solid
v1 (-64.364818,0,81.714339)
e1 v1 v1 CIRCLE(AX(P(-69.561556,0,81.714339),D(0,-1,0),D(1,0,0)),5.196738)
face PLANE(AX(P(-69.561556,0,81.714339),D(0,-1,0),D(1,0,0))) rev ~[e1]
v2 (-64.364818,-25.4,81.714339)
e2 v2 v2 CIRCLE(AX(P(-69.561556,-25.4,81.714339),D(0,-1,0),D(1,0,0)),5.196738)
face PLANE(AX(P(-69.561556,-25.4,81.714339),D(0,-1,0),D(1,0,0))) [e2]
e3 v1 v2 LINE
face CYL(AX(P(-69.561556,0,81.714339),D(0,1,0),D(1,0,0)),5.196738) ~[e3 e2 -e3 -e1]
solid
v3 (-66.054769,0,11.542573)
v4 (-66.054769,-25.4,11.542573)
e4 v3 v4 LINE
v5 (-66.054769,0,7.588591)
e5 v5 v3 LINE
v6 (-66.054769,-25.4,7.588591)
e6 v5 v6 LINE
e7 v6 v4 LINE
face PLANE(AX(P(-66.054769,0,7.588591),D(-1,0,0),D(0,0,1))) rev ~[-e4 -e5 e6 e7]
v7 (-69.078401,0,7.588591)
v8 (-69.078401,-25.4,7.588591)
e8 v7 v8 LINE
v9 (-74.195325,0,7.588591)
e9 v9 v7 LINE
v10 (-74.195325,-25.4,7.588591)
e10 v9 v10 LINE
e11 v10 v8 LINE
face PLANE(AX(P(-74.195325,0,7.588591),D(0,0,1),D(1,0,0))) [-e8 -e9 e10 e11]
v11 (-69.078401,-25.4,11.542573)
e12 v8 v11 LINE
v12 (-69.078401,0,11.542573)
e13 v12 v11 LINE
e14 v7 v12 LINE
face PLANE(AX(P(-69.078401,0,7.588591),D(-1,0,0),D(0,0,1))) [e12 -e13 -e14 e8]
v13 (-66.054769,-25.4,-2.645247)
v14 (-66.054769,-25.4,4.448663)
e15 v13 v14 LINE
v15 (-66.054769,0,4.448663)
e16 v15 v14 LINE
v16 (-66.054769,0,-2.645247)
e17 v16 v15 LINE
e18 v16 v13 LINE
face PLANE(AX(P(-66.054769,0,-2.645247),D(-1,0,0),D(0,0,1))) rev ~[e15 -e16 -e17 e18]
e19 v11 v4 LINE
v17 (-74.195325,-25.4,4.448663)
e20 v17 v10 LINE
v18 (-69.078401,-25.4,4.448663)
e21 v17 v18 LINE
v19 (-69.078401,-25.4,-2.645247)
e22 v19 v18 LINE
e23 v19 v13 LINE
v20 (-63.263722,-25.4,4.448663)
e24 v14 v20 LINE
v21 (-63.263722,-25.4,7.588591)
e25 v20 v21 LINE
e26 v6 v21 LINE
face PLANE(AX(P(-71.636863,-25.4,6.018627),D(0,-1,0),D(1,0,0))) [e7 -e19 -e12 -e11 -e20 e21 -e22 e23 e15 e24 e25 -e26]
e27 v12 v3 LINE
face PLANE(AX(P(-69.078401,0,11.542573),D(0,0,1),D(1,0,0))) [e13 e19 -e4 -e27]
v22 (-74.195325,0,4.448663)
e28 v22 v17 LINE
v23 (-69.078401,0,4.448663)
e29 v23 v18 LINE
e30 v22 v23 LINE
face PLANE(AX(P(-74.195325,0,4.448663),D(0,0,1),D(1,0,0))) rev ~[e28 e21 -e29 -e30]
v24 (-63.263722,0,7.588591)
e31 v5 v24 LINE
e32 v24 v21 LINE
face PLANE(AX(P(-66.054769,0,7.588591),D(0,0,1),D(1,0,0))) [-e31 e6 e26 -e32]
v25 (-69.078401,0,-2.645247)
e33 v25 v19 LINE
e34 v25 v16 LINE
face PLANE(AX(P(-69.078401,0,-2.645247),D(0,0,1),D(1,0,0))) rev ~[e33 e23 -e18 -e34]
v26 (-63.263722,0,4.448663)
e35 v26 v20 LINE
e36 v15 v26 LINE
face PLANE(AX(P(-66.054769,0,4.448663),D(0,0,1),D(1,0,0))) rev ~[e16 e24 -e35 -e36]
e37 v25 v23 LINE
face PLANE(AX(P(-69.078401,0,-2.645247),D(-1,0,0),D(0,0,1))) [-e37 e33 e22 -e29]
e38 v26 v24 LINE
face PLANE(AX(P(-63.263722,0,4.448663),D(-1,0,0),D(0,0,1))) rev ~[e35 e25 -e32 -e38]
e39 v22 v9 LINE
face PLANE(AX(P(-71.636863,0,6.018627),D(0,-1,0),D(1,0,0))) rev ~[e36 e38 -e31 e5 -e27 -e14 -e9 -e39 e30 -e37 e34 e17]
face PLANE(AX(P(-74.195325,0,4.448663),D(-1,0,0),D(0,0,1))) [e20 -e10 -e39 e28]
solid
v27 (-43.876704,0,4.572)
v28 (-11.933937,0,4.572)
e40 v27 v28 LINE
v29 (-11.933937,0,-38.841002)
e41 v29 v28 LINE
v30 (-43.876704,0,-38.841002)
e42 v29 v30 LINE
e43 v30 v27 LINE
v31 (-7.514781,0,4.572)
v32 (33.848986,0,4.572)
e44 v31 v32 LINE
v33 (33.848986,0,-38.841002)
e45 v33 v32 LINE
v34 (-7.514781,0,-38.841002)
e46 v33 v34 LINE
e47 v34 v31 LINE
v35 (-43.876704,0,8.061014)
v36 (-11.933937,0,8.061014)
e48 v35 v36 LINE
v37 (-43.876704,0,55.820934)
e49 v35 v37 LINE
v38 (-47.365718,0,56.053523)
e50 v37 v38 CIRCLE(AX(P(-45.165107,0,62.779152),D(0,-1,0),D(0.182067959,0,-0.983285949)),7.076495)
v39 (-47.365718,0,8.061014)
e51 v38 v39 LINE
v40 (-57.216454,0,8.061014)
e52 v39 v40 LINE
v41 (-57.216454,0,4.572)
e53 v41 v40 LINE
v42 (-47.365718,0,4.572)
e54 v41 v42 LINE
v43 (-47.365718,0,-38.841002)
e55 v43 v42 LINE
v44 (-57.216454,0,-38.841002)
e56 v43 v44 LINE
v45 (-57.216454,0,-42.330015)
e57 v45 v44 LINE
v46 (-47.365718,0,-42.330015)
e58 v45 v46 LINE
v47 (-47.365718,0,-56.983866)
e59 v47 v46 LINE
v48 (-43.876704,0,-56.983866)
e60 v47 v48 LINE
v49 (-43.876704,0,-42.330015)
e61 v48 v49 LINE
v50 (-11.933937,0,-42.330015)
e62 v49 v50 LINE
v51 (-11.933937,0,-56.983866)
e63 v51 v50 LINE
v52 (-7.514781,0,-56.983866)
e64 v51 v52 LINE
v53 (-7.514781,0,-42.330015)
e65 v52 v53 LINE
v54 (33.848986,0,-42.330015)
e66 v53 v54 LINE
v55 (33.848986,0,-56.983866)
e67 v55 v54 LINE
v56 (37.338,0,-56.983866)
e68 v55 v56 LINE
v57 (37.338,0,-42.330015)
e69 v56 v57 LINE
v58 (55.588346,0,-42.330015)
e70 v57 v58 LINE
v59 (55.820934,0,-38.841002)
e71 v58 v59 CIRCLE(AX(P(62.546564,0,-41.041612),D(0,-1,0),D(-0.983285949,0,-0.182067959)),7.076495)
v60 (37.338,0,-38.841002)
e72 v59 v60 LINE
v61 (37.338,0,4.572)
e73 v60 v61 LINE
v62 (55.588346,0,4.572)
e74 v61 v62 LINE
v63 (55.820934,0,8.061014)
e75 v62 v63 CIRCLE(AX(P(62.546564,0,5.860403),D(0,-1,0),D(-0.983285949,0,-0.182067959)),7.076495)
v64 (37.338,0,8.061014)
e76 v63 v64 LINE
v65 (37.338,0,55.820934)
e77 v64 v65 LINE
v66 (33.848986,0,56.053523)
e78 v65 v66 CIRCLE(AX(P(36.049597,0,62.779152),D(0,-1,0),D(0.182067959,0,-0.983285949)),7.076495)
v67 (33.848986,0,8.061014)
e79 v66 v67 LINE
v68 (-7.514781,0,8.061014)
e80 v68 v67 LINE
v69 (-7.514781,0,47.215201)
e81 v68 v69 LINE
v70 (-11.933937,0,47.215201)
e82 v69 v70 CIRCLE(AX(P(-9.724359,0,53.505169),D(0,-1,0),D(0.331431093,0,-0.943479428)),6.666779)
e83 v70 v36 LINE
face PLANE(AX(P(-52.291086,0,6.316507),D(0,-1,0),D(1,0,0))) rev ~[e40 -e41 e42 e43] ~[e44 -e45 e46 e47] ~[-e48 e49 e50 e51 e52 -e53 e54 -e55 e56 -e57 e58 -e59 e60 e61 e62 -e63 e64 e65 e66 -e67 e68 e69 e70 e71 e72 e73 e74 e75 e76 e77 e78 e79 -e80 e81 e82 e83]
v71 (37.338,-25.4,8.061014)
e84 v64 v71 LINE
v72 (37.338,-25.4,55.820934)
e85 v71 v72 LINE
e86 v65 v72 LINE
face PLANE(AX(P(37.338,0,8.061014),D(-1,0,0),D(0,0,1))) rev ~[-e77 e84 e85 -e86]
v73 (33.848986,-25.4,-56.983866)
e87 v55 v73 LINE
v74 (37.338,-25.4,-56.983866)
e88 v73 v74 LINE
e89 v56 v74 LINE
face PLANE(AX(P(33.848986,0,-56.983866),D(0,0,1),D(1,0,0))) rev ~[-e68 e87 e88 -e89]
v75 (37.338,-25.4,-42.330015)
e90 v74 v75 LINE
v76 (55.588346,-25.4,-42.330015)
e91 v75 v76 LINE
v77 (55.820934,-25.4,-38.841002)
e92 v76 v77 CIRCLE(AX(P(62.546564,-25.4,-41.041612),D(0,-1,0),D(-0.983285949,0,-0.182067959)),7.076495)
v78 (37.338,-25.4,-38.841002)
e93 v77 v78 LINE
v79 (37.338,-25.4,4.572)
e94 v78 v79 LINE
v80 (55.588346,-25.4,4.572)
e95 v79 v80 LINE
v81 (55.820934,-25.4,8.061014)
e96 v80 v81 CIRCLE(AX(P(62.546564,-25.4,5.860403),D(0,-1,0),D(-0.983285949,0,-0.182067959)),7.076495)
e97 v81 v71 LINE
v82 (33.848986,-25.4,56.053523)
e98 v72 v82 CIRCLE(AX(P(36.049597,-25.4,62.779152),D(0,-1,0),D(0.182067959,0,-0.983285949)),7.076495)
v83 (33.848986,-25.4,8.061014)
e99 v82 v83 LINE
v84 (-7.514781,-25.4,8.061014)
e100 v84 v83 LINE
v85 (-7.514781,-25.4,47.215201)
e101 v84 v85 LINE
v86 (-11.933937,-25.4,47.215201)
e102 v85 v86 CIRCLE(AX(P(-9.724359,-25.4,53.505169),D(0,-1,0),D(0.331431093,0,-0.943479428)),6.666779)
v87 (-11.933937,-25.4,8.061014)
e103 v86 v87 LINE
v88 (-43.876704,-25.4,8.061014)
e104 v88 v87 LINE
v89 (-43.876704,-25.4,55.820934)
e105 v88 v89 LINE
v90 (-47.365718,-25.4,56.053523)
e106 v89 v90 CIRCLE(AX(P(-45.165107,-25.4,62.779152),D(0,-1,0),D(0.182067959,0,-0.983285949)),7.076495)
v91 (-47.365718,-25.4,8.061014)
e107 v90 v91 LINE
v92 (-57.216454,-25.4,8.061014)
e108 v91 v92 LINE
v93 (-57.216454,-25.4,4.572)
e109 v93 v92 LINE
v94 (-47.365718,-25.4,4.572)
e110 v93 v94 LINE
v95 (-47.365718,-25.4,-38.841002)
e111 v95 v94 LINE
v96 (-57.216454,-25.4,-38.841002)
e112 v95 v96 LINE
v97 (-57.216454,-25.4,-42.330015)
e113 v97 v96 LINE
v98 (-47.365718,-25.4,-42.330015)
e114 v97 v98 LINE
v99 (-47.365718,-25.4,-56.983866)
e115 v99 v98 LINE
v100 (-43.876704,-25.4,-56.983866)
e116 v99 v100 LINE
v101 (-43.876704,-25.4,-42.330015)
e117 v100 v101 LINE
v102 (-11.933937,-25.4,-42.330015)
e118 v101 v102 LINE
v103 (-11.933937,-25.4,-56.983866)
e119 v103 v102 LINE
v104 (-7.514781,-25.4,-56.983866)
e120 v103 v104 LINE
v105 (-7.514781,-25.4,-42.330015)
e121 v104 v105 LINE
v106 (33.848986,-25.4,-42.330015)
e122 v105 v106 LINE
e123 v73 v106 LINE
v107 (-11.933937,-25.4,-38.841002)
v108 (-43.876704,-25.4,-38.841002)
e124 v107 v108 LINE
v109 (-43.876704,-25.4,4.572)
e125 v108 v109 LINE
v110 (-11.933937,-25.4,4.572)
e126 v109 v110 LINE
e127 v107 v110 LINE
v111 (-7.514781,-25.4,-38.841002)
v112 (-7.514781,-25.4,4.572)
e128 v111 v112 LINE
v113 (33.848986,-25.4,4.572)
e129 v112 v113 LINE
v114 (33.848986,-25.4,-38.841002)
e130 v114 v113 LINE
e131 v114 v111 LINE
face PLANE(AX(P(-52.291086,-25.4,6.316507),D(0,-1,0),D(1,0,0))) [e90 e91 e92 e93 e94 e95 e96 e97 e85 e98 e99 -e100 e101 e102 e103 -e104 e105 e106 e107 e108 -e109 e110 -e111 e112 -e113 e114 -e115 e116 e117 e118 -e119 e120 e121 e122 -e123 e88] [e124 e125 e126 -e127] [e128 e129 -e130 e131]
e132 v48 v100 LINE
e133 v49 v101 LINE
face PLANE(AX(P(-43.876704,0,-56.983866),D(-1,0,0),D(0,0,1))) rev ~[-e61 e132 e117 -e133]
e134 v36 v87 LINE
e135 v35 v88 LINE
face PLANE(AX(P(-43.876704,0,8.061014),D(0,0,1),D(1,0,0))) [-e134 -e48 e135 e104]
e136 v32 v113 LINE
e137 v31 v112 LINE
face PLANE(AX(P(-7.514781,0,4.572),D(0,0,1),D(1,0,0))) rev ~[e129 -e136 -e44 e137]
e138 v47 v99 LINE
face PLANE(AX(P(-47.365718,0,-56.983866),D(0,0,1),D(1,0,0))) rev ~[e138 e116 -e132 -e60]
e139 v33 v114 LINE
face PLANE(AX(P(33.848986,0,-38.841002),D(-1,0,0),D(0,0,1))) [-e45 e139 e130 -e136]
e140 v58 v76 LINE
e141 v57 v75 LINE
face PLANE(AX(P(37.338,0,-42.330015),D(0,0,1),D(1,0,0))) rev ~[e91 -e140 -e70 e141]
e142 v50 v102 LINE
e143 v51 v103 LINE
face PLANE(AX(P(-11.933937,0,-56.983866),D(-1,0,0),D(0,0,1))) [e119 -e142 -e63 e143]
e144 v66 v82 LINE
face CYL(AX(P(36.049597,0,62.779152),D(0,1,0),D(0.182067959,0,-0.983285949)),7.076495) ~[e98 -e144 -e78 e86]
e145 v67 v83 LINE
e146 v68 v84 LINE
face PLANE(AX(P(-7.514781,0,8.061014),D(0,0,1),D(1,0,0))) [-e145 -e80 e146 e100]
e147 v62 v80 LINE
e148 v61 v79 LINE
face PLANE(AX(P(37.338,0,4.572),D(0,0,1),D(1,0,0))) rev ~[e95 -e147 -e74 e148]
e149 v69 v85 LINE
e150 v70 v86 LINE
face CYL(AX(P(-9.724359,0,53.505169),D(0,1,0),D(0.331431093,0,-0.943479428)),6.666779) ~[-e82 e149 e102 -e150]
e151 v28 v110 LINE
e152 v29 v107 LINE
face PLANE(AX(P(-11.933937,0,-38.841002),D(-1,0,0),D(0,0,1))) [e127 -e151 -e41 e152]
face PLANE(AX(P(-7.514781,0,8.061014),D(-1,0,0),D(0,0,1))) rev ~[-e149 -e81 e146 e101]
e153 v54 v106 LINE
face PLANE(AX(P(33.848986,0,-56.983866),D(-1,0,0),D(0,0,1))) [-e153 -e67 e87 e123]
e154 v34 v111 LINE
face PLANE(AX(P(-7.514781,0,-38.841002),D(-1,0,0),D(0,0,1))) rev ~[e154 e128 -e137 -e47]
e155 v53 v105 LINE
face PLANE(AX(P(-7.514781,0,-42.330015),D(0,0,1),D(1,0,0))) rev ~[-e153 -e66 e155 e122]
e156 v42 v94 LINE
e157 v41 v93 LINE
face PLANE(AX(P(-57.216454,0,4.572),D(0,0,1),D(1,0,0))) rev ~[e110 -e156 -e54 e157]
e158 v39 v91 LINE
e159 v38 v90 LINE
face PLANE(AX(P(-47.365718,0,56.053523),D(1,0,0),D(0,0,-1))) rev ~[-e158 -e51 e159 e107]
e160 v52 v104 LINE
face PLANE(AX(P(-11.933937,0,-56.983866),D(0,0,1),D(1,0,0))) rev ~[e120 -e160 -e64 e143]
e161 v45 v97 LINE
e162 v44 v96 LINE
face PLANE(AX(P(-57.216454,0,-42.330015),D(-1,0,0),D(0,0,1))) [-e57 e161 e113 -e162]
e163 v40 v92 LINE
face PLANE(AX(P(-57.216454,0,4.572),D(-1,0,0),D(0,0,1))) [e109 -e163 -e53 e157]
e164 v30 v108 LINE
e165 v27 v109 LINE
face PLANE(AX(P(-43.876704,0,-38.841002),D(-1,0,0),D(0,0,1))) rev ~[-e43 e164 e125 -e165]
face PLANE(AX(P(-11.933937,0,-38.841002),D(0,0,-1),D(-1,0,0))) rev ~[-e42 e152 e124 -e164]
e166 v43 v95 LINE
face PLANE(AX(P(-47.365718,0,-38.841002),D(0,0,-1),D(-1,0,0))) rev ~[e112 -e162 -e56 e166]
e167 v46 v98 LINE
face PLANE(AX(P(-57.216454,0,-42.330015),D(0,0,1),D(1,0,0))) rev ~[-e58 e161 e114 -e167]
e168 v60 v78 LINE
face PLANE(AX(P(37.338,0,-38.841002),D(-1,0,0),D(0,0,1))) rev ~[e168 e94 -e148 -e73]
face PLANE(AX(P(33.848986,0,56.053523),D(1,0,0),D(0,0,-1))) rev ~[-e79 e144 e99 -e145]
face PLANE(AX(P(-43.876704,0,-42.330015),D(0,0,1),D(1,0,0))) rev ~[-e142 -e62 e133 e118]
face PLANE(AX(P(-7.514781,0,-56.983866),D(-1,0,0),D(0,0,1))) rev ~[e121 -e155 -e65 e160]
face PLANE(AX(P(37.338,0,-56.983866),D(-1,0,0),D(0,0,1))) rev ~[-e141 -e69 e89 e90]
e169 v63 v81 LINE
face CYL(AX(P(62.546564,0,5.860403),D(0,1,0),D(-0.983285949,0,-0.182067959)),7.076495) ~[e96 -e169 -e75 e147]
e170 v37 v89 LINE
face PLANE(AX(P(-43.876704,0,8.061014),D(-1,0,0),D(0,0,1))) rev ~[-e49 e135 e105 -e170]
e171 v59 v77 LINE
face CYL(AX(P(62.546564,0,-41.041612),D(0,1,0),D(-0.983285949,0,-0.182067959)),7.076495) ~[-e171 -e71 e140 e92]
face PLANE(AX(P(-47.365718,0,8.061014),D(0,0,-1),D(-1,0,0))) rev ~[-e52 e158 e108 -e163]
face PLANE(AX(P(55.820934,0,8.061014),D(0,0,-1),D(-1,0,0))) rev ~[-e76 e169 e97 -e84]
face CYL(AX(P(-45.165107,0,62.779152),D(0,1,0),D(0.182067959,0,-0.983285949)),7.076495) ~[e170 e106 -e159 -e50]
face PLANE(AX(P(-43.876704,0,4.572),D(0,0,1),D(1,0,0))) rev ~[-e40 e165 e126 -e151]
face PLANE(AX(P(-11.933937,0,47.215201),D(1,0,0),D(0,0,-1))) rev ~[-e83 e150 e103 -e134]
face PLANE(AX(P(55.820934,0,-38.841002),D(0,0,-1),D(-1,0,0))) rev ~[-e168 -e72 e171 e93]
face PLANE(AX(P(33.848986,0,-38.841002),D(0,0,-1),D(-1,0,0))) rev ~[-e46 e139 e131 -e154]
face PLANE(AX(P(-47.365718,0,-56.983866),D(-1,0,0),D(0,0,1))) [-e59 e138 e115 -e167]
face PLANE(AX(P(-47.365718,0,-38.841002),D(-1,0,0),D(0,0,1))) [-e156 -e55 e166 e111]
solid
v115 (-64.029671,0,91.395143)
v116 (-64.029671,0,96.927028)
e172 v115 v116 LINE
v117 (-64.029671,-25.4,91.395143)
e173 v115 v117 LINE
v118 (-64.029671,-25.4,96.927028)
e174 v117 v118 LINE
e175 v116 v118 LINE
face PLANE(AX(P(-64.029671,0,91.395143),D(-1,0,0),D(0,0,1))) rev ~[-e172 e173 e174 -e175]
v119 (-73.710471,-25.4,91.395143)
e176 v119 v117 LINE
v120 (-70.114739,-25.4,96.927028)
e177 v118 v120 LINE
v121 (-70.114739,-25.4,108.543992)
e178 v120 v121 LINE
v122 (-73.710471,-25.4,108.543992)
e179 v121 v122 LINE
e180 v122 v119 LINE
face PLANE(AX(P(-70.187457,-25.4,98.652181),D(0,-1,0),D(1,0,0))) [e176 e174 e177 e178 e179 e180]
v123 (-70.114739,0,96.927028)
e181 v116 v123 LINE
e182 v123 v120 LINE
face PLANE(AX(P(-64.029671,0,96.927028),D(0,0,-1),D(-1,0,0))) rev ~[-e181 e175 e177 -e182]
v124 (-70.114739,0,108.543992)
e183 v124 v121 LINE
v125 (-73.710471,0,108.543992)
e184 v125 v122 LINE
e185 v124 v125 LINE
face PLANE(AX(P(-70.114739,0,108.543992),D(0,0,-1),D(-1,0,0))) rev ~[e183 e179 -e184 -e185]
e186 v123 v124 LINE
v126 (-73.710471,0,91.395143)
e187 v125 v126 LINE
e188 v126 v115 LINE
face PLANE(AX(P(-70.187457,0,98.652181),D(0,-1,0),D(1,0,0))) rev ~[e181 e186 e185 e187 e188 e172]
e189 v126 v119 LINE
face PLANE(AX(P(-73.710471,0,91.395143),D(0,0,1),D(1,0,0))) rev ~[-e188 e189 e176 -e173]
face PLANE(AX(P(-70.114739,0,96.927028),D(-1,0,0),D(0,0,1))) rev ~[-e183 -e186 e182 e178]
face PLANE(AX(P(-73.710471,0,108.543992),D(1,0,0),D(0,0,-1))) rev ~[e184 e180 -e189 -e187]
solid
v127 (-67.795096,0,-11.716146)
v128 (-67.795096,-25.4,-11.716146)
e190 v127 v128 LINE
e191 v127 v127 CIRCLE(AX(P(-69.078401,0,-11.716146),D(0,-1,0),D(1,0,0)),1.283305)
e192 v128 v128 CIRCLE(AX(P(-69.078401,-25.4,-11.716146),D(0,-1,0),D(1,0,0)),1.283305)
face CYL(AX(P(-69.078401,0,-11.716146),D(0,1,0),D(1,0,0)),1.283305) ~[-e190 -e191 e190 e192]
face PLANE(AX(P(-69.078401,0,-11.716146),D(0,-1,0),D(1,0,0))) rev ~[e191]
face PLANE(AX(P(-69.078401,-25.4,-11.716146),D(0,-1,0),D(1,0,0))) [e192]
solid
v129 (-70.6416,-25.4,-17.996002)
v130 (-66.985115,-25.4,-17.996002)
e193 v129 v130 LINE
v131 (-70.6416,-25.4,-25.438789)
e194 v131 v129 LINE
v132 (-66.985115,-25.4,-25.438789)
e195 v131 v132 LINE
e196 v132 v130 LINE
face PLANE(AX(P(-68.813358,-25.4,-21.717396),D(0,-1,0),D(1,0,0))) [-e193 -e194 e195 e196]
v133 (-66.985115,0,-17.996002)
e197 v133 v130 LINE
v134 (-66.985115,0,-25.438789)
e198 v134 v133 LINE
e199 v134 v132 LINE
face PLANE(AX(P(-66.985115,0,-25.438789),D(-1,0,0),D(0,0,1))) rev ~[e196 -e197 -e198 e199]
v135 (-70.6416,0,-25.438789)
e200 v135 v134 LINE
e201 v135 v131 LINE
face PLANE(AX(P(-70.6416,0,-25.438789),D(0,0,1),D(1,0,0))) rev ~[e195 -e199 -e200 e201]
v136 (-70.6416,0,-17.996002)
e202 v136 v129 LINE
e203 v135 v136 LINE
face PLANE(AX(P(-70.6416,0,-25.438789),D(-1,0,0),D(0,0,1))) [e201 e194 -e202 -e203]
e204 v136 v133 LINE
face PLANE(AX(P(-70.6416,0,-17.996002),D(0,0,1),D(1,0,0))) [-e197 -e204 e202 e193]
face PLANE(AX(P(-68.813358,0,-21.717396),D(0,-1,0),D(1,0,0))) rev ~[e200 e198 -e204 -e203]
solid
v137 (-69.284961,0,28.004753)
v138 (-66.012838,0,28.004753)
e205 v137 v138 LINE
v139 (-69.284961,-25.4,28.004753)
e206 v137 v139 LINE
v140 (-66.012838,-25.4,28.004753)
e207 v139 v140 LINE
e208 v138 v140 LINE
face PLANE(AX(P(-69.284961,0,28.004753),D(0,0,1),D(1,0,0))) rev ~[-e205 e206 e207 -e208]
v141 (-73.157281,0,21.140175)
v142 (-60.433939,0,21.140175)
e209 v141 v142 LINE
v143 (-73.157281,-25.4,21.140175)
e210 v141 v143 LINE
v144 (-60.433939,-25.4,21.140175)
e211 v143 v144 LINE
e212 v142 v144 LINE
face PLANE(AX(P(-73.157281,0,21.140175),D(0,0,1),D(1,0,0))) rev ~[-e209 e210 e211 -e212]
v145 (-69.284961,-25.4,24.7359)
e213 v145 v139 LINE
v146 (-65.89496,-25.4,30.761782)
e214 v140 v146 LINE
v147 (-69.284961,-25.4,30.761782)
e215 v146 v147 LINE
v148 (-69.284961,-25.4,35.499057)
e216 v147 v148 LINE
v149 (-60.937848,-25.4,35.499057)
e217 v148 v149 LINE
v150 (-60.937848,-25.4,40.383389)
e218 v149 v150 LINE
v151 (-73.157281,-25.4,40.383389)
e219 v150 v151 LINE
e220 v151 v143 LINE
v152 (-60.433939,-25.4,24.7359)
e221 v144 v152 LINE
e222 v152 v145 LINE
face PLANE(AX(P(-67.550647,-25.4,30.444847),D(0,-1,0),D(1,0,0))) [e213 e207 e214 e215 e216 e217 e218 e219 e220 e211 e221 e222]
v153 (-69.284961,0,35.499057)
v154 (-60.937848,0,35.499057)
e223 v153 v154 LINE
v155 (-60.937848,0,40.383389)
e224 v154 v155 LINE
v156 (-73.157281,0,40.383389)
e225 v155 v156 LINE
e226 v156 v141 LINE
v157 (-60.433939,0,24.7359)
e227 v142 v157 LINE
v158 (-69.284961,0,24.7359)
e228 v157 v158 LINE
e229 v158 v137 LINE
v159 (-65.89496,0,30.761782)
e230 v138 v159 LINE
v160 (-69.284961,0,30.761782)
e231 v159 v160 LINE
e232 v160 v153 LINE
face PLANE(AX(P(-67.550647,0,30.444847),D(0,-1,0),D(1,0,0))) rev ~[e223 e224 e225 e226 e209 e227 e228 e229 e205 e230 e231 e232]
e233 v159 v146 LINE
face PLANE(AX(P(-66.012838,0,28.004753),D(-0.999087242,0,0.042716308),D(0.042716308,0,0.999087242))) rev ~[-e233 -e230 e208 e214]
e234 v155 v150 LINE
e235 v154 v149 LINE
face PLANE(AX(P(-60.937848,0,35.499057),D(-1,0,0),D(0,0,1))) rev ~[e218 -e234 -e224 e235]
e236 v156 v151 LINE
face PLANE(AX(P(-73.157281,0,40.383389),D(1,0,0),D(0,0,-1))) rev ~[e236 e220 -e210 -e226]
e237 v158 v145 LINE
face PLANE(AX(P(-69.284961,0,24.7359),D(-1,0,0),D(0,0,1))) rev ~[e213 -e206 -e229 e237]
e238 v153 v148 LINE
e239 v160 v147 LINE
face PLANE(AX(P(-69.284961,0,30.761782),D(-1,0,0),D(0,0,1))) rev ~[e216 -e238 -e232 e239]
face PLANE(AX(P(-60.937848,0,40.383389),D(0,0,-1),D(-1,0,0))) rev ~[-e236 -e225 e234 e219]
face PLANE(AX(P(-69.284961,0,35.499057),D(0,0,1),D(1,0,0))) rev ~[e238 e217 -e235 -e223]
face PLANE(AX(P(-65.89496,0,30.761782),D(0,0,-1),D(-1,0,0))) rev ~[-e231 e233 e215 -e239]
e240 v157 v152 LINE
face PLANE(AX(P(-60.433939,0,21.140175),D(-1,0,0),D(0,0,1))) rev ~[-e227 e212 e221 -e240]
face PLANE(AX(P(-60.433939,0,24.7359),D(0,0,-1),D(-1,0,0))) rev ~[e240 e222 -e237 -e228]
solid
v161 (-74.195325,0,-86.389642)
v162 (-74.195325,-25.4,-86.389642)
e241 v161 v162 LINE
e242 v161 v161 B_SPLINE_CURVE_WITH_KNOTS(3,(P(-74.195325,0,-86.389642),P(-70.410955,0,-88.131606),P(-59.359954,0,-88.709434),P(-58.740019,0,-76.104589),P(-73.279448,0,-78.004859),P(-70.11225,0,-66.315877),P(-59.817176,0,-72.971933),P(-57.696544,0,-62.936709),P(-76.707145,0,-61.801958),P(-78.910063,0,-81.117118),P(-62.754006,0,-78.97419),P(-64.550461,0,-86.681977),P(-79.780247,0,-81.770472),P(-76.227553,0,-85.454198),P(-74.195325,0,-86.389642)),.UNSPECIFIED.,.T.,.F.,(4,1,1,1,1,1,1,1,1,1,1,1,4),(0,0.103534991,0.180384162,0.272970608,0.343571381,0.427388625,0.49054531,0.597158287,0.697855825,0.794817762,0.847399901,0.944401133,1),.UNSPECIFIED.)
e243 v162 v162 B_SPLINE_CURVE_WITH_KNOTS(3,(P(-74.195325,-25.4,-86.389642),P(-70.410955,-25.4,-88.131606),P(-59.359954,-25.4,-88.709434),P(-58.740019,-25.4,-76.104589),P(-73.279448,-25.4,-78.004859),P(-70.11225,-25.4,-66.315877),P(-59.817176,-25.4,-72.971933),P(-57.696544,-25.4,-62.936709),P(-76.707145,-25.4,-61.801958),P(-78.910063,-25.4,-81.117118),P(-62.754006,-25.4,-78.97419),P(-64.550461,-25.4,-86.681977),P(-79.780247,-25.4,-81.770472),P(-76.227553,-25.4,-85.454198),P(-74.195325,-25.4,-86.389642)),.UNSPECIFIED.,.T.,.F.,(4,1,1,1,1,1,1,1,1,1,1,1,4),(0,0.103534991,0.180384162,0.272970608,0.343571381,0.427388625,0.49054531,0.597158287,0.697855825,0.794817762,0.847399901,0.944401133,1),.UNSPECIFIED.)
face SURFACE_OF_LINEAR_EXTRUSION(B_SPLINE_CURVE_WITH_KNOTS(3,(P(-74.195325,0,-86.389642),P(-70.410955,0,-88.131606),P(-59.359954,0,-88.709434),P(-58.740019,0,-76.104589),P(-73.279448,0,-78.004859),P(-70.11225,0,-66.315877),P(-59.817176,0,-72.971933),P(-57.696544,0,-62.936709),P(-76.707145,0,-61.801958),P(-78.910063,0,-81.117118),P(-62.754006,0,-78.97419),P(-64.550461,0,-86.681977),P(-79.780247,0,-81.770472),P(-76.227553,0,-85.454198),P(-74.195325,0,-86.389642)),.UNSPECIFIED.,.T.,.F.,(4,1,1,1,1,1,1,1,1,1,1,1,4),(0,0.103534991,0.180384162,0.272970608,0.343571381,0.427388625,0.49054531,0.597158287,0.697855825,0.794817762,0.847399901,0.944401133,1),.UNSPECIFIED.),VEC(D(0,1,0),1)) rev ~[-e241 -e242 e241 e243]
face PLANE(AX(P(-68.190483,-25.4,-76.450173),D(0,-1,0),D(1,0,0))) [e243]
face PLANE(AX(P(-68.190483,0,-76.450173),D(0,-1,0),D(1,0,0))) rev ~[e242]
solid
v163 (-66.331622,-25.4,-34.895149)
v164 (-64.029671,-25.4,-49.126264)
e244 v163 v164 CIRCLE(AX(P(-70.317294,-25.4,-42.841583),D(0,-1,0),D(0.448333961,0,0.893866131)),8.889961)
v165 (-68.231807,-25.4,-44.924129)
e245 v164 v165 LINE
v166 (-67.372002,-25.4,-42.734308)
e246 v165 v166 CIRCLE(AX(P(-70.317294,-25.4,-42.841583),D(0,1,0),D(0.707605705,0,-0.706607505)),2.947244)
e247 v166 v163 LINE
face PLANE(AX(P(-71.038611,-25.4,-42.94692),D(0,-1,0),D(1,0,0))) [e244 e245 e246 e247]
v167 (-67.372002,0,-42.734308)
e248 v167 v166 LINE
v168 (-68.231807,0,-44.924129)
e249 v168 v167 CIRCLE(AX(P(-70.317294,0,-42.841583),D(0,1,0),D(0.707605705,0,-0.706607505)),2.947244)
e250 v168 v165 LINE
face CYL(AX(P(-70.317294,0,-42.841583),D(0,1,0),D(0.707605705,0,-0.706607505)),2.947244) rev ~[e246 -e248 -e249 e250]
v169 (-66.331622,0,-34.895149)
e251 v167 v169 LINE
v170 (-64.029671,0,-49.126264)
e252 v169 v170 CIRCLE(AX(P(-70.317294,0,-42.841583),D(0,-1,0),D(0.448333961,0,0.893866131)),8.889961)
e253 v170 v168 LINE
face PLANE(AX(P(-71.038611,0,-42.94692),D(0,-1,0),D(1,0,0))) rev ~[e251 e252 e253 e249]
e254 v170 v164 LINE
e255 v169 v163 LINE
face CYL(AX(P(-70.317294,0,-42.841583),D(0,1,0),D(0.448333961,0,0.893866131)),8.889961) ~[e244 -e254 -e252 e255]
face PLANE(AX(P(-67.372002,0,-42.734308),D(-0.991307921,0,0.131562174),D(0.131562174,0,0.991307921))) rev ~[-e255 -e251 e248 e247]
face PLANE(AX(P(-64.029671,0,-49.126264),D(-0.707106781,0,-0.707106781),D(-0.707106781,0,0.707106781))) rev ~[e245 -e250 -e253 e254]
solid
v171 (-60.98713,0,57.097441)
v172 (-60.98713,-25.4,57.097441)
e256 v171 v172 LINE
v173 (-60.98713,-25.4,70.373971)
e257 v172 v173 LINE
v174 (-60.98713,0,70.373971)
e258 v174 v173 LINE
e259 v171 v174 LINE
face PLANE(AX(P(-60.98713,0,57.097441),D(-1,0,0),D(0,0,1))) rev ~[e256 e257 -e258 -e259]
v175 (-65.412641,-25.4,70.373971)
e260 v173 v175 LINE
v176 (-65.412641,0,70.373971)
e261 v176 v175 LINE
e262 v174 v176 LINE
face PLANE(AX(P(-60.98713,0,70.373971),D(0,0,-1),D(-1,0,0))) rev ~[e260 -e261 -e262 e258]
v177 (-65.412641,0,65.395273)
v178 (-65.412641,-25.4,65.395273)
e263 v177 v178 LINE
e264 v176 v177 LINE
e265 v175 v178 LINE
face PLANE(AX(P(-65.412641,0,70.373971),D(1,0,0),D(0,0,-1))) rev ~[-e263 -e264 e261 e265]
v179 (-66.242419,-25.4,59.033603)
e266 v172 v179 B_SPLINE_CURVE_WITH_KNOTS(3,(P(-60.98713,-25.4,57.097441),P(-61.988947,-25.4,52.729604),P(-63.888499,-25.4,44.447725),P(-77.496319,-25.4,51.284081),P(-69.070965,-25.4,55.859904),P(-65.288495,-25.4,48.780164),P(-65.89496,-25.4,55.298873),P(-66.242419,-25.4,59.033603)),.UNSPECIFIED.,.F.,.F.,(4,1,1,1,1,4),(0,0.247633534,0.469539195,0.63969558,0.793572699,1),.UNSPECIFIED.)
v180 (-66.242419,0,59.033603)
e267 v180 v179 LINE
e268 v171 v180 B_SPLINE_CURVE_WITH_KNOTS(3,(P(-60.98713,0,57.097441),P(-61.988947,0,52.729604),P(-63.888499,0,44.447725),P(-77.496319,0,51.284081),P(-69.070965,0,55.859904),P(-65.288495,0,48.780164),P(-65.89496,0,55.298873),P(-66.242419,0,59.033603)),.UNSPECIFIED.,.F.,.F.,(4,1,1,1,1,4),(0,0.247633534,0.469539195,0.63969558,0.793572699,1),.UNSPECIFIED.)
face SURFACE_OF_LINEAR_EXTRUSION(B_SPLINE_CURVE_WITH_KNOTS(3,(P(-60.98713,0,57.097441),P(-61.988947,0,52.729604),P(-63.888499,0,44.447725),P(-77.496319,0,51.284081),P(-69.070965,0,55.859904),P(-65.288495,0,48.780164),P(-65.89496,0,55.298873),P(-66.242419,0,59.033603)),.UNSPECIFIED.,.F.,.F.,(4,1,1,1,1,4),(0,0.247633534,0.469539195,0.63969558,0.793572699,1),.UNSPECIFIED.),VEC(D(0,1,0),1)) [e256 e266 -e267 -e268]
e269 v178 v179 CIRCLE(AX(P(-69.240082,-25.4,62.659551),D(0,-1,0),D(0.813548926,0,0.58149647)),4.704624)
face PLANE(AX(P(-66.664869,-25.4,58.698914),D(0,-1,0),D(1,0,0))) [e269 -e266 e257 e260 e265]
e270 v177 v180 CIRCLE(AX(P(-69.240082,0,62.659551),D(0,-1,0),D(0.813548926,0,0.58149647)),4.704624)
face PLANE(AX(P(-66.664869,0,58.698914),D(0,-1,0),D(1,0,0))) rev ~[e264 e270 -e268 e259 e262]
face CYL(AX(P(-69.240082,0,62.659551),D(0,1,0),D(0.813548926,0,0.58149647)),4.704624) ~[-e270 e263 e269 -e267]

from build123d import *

# Parameters (mm, degrees)
F0_W     = 9.8507367074
F0_H     = 3.4890137613
F0_W_2   = 31.9427670911
F0_W_3   = 3.4890137613
F0_H_2   = 14.6538503468
F0_H_3   = 43.4130015783
F0_W_4   = 4.4191554189
F0_W_5   = 41.3637673482
F1_DEPTH = 25.4
F0_W_6   = 5.1169246435
F0_H_4   = 3.1399279833
F0_W_7   = 3.0236318707
F0_H_5   = 7.0939101279
F0_H_6   = 3.9539821446
F0_W_8   = 2.7910470963
F2_DEPTH = 25.4
F0_R     = 5.1967382393
F0_W_9   = 3.6564849102
F0_H_7   = 7.4427872896
F0_R_2   = 1.2833046995


with BuildPart() as f1:
    # F0 (on Front) → F1 (new body)
    with BuildSketch(Plane.XZ):
        with Locations((-52.2910859436, 6.3165067695)):
            Rectangle(F0_W, F0_H)
        with Locations((-52.2910859436, -40.5855085701)):
            Rectangle(F0_W, F0_H)
        with Locations((-27.905320283, -40.5855085701)):
            Rectangle(F0_W_2, F0_H)
        with Locations((-45.6212107092, -40.5855085701)):
            Rectangle(F0_W_3, F0_H)
        with Locations((-45.6212107092, -49.6569406241)):
            Rectangle(F0_W_3, F0_H_2)
        with Locations((-45.6212107092, -17.1345009003)):
            Rectangle(F0_W_3, F0_H_3)
        with Locations((-45.6212107092, 6.3165067695)):
            Rectangle(F0_W_3, F0_H)
        with BuildLine():
            Line((-47.3657175899, 56.0535229743), (-47.3657175899, 8.0610136501))
            Line((-47.3657175899, 8.0610136501), (-43.8767038286, 8.0610136501))
            Line((-43.8767038286, 8.0610136501), (-43.8767038286, 55.8209344745))
            ThreePointArc((-43.8767038286, 55.8209344745), (-44.6944103907, 69.8399757149), (-47.3657175899, 56.0535229743))
        make_face()
        with Locations((-27.905320283, 6.3165067695)):
            Rectangle(F0_W_2, F0_H)
        with BuildLine():
            Line((-11.9339367375, 47.2152009606), (-11.9339367375, 8.0610136501))
            Line((-11.9339367375, 8.0610136501), (-7.5147813186, 8.0610136501))
            Line((-7.5147813186, 8.0610136501), (-7.5147813186, 47.2152009606))
            ThreePointArc((-7.5147813186, 47.2152009606), (-9.724359028, 60.1719479535), (-11.9339367375, 47.2152009606))
        make_face()
        with Locations((-9.724359028, 6.3165067695)):
            Rectangle(F0_W_4, F0_H)
        with Locations((-9.724359028, -17.1345009003)):
            Rectangle(F0_W_4, F0_H_3)
        with Locations((-9.724359028, -49.6569406241)):
            Rectangle(F0_W_4, F0_H_2)
        with Locations((-9.724359028, -40.5855085701)):
            Rectangle(F0_W_4, F0_H)
        with Locations((13.1671023555, -40.5855085701)):
            Rectangle(F0_W_5, F0_H)
        with Locations((35.5934929103, -49.6569406241)):
            Rectangle(F0_W_3, F0_H_2)
        with Locations((35.5934929103, -40.5855085701)):
            Rectangle(F0_W_3, F0_H)
        with BuildLine():
            Line((37.3379997909, -38.8410016894), (37.3379997909, -42.3300154507))
            Line((37.3379997909, -42.3300154507), (55.5883459747, -42.3300154507))
            ThreePointArc((55.5883459747, -42.3300154507), (69.6073872151, -41.5123088886), (55.8209344745, -38.8410016894))
            Line((55.8209344745, -38.8410016894), (37.3379997909, -38.8410016894))
        make_face()
        with Locations((35.5934929103, -17.1345009003)):
            Rectangle(F0_W_3, F0_H_3)
        with BuildLine():
            Line((37.3379997909, 8.0610136501), (37.3379997909, 4.5719998889))
            Line((37.3379997909, 4.5719998889), (55.5883459747, 4.5719998889))
            ThreePointArc((55.5883459747, 4.5719998889), (69.6073872151, 5.3897064509), (55.8209344745, 8.0610136501))
            Line((55.8209344745, 8.0610136501), (37.3379997909, 8.0610136501))
        make_face()
        with BuildLine():
            Line((33.8489860296, 56.0535229743), (33.8489860296, 8.0610136501))
            Line((33.8489860296, 8.0610136501), (37.3379997909, 8.0610136501))
            Line((37.3379997909, 8.0610136501), (37.3379997909, 55.8209344745))
            ThreePointArc((37.3379997909, 55.8209344745), (36.5202932288, 69.8399757149), (33.8489860296, 56.0535229743))
        make_face()
        with Locations((13.1671023555, 6.3165067695)):
            Rectangle(F0_W_5, F0_H)
        with Locations((35.5934929103, 6.3165067695)):
            Rectangle(F0_W_3, F0_H)
    extrude(amount=F1_DEPTH)


with BuildPart() as f2:
    # F0 (on Front) → F2 (new body)
    with BuildSketch(Plane.XZ):
        with Locations((-71.6368630528, 6.0186273309)):
            Rectangle(F0_W_6, F0_H_4)
        with Locations((-67.5665847957, 0.9017082753)):
            Rectangle(F0_W_7, F0_H_5)
        with Locations((-67.5665847957, 9.5655823948)):
            Rectangle(F0_W_7, F0_H_6)
        with Locations((-67.5665847957, 6.0186273309)):
            Rectangle(F0_W_7, F0_H_4)
        with Locations((-64.6592453122, 6.0186273309)):
            Rectangle(F0_W_8, F0_H_4)
    extrude(amount=F2_DEPTH)


with BuildPart() as f2b:
    # F0 (on Front) → F2, piece 2 (new body)
    with BuildSketch(Plane.XZ):
        Polygon((-73.7104713917, 108.5439919384), (-73.7104713917, 91.3951433154), (-64.0296712518, 91.3951433154), (-64.0296712518, 96.9270280453), (-70.1147392392, 96.9270280453), (-70.1147392392, 108.5439919384), align=None)
    extrude(amount=F2_DEPTH)


with BuildPart() as f2c:
    # F0 (on Front) → F2, piece 3 (new body)
    with BuildSketch(Plane.XZ):
        with Locations((-69.5615559816, 81.7143394502)):
            Circle(F0_R)
    extrude(amount=F2_DEPTH)


with BuildPart() as f2d:
    # F0 (on Front) → F2, piece 4 (new body)
    with BuildSketch(Plane.XZ):
        with BuildLine():
            Line((-65.4126405716, 70.3739709111), (-65.4126405716, 65.3952731641))
            ThreePointArc((-65.4126405716, 65.3952731641), (-73.9051892905, 63.2680400691), (-66.2424191833, 59.0336028377))
            add(Edge.make_bspline(
                [(-60.9871298075, 57.0974414127), (-61.9889474625, 52.7296038919), (-63.8884989801, 44.4477250988), (-77.4963185642, 51.284080588), (-69.0709651341, 55.8599044946), (-65.2884945242, 48.7801644894), (-65.8949600856, 55.2988734727), (-66.2424191833, 59.0336028377)],
                knots=[0, 0, 0, 0, 0.2476335337, 0.4695391946, 0.6396955796, 0.7935726994, 1, 1, 1, 1], degree=3))
            Line((-60.9871298075, 57.0974414127), (-60.9871298075, 70.3739709111))
            Line((-60.9871298075, 70.3739709111), (-65.4126405716, 70.3739709111))
        make_face()
    extrude(amount=F2_DEPTH)


with BuildPart() as f2e:
    # F0 (on Front) → F2, piece 5 (new body)
    with BuildSketch(Plane.XZ):
        Polygon((-73.1572806835, 40.3833891155), (-73.1572806835, 21.1401748361), (-60.4339390993, 21.1401748361), (-60.4339390993, 24.735899538), (-69.2849606276, 24.735899538), (-69.2849606276, 28.0047529326), (-66.0128377816, 28.0047529326), (-65.8949600856, 30.7617819758), (-69.2849606276, 30.7617819758), (-69.2849606276, 35.4990566971), (-60.9378479421, 35.4990566971), (-60.9378479421, 40.3833891155), align=None)
    extrude(amount=F2_DEPTH)


with BuildPart() as f2f:
    # F0 (on Front) → F2, piece 6 (new body)
    with BuildSketch(Plane.XZ):
        with Locations((-68.813357864, -21.7173957376)):
            Rectangle(F0_W_9, F0_H_7)
    extrude(amount=F2_DEPTH)


with BuildPart() as f2g:
    # F0 (on Front) → F2, piece 7 (new body)
    with BuildSketch(Plane.XZ):
        with BuildLine():
            Line((-67.3720020821, -42.7343076319), (-66.3316222388, -34.8951487614))
            ThreePointArc((-66.3316222388, -34.8951487614), (-79.093186567, -44.2611262053), (-64.0296712518, -49.126263812))
            Line((-64.0296712518, -49.126263812), (-68.2318065404, -44.9241285233))
            ThreePointArc((-68.2318065404, -44.9241285233), (-73.0606512575, -41.7644400461), (-67.3720020821, -42.7343076319))
        make_face()
    extrude(amount=F2_DEPTH)


with BuildPart() as f2h:
    # F0 (on Front) → F2, piece 8 (new body)
    with BuildSketch(Plane.XZ):
        with BuildLine():
            add(Edge.make_bspline(
                [(-74.1953253746, -86.3896423129), (-70.4109551605, -88.131606249), (-59.3599537865, -88.7094340251), (-58.7400193545, -76.1045887758), (-73.2794475524, -78.0048591611), (-70.1122496821, -66.3158765134), (-59.8171762304, -72.9719325966), (-57.696544028, -62.9367087926), (-76.7071447675, -61.8019575221), (-78.9100631684, -81.1171179075), (-62.7540064168, -78.9741899419), (-64.5504609327, -86.6819772412), (-79.7802473657, -81.7704717279), (-76.2275532765, -85.4541979682), (-74.1953253746, -86.3896423129)],
                knots=[0, 0, 0, 0, 0.1035349913, 0.1803841618, 0.272970608, 0.3435713815, 0.4273886246, 0.4905453099, 0.5971582871, 0.6978558253, 0.7948177615, 0.8473999008, 0.9444011325, 1, 1, 1, 1], degree=3))
        make_face()
    extrude(amount=F2_DEPTH)


with BuildPart() as f2i:
    # F0 (on Front) → F2, piece 9 (new body)
    with BuildSketch(Plane.XZ):
        with Locations((-69.0784007311, -11.7161461262)):
            Circle(F0_R_2)
    extrude(amount=F2_DEPTH)


solid = Compound([f1.part, f2.part, f2b.part, f2c.part, f2d.part, f2e.part, f2f.part, f2g.part, f2h.part, f2i.part])
